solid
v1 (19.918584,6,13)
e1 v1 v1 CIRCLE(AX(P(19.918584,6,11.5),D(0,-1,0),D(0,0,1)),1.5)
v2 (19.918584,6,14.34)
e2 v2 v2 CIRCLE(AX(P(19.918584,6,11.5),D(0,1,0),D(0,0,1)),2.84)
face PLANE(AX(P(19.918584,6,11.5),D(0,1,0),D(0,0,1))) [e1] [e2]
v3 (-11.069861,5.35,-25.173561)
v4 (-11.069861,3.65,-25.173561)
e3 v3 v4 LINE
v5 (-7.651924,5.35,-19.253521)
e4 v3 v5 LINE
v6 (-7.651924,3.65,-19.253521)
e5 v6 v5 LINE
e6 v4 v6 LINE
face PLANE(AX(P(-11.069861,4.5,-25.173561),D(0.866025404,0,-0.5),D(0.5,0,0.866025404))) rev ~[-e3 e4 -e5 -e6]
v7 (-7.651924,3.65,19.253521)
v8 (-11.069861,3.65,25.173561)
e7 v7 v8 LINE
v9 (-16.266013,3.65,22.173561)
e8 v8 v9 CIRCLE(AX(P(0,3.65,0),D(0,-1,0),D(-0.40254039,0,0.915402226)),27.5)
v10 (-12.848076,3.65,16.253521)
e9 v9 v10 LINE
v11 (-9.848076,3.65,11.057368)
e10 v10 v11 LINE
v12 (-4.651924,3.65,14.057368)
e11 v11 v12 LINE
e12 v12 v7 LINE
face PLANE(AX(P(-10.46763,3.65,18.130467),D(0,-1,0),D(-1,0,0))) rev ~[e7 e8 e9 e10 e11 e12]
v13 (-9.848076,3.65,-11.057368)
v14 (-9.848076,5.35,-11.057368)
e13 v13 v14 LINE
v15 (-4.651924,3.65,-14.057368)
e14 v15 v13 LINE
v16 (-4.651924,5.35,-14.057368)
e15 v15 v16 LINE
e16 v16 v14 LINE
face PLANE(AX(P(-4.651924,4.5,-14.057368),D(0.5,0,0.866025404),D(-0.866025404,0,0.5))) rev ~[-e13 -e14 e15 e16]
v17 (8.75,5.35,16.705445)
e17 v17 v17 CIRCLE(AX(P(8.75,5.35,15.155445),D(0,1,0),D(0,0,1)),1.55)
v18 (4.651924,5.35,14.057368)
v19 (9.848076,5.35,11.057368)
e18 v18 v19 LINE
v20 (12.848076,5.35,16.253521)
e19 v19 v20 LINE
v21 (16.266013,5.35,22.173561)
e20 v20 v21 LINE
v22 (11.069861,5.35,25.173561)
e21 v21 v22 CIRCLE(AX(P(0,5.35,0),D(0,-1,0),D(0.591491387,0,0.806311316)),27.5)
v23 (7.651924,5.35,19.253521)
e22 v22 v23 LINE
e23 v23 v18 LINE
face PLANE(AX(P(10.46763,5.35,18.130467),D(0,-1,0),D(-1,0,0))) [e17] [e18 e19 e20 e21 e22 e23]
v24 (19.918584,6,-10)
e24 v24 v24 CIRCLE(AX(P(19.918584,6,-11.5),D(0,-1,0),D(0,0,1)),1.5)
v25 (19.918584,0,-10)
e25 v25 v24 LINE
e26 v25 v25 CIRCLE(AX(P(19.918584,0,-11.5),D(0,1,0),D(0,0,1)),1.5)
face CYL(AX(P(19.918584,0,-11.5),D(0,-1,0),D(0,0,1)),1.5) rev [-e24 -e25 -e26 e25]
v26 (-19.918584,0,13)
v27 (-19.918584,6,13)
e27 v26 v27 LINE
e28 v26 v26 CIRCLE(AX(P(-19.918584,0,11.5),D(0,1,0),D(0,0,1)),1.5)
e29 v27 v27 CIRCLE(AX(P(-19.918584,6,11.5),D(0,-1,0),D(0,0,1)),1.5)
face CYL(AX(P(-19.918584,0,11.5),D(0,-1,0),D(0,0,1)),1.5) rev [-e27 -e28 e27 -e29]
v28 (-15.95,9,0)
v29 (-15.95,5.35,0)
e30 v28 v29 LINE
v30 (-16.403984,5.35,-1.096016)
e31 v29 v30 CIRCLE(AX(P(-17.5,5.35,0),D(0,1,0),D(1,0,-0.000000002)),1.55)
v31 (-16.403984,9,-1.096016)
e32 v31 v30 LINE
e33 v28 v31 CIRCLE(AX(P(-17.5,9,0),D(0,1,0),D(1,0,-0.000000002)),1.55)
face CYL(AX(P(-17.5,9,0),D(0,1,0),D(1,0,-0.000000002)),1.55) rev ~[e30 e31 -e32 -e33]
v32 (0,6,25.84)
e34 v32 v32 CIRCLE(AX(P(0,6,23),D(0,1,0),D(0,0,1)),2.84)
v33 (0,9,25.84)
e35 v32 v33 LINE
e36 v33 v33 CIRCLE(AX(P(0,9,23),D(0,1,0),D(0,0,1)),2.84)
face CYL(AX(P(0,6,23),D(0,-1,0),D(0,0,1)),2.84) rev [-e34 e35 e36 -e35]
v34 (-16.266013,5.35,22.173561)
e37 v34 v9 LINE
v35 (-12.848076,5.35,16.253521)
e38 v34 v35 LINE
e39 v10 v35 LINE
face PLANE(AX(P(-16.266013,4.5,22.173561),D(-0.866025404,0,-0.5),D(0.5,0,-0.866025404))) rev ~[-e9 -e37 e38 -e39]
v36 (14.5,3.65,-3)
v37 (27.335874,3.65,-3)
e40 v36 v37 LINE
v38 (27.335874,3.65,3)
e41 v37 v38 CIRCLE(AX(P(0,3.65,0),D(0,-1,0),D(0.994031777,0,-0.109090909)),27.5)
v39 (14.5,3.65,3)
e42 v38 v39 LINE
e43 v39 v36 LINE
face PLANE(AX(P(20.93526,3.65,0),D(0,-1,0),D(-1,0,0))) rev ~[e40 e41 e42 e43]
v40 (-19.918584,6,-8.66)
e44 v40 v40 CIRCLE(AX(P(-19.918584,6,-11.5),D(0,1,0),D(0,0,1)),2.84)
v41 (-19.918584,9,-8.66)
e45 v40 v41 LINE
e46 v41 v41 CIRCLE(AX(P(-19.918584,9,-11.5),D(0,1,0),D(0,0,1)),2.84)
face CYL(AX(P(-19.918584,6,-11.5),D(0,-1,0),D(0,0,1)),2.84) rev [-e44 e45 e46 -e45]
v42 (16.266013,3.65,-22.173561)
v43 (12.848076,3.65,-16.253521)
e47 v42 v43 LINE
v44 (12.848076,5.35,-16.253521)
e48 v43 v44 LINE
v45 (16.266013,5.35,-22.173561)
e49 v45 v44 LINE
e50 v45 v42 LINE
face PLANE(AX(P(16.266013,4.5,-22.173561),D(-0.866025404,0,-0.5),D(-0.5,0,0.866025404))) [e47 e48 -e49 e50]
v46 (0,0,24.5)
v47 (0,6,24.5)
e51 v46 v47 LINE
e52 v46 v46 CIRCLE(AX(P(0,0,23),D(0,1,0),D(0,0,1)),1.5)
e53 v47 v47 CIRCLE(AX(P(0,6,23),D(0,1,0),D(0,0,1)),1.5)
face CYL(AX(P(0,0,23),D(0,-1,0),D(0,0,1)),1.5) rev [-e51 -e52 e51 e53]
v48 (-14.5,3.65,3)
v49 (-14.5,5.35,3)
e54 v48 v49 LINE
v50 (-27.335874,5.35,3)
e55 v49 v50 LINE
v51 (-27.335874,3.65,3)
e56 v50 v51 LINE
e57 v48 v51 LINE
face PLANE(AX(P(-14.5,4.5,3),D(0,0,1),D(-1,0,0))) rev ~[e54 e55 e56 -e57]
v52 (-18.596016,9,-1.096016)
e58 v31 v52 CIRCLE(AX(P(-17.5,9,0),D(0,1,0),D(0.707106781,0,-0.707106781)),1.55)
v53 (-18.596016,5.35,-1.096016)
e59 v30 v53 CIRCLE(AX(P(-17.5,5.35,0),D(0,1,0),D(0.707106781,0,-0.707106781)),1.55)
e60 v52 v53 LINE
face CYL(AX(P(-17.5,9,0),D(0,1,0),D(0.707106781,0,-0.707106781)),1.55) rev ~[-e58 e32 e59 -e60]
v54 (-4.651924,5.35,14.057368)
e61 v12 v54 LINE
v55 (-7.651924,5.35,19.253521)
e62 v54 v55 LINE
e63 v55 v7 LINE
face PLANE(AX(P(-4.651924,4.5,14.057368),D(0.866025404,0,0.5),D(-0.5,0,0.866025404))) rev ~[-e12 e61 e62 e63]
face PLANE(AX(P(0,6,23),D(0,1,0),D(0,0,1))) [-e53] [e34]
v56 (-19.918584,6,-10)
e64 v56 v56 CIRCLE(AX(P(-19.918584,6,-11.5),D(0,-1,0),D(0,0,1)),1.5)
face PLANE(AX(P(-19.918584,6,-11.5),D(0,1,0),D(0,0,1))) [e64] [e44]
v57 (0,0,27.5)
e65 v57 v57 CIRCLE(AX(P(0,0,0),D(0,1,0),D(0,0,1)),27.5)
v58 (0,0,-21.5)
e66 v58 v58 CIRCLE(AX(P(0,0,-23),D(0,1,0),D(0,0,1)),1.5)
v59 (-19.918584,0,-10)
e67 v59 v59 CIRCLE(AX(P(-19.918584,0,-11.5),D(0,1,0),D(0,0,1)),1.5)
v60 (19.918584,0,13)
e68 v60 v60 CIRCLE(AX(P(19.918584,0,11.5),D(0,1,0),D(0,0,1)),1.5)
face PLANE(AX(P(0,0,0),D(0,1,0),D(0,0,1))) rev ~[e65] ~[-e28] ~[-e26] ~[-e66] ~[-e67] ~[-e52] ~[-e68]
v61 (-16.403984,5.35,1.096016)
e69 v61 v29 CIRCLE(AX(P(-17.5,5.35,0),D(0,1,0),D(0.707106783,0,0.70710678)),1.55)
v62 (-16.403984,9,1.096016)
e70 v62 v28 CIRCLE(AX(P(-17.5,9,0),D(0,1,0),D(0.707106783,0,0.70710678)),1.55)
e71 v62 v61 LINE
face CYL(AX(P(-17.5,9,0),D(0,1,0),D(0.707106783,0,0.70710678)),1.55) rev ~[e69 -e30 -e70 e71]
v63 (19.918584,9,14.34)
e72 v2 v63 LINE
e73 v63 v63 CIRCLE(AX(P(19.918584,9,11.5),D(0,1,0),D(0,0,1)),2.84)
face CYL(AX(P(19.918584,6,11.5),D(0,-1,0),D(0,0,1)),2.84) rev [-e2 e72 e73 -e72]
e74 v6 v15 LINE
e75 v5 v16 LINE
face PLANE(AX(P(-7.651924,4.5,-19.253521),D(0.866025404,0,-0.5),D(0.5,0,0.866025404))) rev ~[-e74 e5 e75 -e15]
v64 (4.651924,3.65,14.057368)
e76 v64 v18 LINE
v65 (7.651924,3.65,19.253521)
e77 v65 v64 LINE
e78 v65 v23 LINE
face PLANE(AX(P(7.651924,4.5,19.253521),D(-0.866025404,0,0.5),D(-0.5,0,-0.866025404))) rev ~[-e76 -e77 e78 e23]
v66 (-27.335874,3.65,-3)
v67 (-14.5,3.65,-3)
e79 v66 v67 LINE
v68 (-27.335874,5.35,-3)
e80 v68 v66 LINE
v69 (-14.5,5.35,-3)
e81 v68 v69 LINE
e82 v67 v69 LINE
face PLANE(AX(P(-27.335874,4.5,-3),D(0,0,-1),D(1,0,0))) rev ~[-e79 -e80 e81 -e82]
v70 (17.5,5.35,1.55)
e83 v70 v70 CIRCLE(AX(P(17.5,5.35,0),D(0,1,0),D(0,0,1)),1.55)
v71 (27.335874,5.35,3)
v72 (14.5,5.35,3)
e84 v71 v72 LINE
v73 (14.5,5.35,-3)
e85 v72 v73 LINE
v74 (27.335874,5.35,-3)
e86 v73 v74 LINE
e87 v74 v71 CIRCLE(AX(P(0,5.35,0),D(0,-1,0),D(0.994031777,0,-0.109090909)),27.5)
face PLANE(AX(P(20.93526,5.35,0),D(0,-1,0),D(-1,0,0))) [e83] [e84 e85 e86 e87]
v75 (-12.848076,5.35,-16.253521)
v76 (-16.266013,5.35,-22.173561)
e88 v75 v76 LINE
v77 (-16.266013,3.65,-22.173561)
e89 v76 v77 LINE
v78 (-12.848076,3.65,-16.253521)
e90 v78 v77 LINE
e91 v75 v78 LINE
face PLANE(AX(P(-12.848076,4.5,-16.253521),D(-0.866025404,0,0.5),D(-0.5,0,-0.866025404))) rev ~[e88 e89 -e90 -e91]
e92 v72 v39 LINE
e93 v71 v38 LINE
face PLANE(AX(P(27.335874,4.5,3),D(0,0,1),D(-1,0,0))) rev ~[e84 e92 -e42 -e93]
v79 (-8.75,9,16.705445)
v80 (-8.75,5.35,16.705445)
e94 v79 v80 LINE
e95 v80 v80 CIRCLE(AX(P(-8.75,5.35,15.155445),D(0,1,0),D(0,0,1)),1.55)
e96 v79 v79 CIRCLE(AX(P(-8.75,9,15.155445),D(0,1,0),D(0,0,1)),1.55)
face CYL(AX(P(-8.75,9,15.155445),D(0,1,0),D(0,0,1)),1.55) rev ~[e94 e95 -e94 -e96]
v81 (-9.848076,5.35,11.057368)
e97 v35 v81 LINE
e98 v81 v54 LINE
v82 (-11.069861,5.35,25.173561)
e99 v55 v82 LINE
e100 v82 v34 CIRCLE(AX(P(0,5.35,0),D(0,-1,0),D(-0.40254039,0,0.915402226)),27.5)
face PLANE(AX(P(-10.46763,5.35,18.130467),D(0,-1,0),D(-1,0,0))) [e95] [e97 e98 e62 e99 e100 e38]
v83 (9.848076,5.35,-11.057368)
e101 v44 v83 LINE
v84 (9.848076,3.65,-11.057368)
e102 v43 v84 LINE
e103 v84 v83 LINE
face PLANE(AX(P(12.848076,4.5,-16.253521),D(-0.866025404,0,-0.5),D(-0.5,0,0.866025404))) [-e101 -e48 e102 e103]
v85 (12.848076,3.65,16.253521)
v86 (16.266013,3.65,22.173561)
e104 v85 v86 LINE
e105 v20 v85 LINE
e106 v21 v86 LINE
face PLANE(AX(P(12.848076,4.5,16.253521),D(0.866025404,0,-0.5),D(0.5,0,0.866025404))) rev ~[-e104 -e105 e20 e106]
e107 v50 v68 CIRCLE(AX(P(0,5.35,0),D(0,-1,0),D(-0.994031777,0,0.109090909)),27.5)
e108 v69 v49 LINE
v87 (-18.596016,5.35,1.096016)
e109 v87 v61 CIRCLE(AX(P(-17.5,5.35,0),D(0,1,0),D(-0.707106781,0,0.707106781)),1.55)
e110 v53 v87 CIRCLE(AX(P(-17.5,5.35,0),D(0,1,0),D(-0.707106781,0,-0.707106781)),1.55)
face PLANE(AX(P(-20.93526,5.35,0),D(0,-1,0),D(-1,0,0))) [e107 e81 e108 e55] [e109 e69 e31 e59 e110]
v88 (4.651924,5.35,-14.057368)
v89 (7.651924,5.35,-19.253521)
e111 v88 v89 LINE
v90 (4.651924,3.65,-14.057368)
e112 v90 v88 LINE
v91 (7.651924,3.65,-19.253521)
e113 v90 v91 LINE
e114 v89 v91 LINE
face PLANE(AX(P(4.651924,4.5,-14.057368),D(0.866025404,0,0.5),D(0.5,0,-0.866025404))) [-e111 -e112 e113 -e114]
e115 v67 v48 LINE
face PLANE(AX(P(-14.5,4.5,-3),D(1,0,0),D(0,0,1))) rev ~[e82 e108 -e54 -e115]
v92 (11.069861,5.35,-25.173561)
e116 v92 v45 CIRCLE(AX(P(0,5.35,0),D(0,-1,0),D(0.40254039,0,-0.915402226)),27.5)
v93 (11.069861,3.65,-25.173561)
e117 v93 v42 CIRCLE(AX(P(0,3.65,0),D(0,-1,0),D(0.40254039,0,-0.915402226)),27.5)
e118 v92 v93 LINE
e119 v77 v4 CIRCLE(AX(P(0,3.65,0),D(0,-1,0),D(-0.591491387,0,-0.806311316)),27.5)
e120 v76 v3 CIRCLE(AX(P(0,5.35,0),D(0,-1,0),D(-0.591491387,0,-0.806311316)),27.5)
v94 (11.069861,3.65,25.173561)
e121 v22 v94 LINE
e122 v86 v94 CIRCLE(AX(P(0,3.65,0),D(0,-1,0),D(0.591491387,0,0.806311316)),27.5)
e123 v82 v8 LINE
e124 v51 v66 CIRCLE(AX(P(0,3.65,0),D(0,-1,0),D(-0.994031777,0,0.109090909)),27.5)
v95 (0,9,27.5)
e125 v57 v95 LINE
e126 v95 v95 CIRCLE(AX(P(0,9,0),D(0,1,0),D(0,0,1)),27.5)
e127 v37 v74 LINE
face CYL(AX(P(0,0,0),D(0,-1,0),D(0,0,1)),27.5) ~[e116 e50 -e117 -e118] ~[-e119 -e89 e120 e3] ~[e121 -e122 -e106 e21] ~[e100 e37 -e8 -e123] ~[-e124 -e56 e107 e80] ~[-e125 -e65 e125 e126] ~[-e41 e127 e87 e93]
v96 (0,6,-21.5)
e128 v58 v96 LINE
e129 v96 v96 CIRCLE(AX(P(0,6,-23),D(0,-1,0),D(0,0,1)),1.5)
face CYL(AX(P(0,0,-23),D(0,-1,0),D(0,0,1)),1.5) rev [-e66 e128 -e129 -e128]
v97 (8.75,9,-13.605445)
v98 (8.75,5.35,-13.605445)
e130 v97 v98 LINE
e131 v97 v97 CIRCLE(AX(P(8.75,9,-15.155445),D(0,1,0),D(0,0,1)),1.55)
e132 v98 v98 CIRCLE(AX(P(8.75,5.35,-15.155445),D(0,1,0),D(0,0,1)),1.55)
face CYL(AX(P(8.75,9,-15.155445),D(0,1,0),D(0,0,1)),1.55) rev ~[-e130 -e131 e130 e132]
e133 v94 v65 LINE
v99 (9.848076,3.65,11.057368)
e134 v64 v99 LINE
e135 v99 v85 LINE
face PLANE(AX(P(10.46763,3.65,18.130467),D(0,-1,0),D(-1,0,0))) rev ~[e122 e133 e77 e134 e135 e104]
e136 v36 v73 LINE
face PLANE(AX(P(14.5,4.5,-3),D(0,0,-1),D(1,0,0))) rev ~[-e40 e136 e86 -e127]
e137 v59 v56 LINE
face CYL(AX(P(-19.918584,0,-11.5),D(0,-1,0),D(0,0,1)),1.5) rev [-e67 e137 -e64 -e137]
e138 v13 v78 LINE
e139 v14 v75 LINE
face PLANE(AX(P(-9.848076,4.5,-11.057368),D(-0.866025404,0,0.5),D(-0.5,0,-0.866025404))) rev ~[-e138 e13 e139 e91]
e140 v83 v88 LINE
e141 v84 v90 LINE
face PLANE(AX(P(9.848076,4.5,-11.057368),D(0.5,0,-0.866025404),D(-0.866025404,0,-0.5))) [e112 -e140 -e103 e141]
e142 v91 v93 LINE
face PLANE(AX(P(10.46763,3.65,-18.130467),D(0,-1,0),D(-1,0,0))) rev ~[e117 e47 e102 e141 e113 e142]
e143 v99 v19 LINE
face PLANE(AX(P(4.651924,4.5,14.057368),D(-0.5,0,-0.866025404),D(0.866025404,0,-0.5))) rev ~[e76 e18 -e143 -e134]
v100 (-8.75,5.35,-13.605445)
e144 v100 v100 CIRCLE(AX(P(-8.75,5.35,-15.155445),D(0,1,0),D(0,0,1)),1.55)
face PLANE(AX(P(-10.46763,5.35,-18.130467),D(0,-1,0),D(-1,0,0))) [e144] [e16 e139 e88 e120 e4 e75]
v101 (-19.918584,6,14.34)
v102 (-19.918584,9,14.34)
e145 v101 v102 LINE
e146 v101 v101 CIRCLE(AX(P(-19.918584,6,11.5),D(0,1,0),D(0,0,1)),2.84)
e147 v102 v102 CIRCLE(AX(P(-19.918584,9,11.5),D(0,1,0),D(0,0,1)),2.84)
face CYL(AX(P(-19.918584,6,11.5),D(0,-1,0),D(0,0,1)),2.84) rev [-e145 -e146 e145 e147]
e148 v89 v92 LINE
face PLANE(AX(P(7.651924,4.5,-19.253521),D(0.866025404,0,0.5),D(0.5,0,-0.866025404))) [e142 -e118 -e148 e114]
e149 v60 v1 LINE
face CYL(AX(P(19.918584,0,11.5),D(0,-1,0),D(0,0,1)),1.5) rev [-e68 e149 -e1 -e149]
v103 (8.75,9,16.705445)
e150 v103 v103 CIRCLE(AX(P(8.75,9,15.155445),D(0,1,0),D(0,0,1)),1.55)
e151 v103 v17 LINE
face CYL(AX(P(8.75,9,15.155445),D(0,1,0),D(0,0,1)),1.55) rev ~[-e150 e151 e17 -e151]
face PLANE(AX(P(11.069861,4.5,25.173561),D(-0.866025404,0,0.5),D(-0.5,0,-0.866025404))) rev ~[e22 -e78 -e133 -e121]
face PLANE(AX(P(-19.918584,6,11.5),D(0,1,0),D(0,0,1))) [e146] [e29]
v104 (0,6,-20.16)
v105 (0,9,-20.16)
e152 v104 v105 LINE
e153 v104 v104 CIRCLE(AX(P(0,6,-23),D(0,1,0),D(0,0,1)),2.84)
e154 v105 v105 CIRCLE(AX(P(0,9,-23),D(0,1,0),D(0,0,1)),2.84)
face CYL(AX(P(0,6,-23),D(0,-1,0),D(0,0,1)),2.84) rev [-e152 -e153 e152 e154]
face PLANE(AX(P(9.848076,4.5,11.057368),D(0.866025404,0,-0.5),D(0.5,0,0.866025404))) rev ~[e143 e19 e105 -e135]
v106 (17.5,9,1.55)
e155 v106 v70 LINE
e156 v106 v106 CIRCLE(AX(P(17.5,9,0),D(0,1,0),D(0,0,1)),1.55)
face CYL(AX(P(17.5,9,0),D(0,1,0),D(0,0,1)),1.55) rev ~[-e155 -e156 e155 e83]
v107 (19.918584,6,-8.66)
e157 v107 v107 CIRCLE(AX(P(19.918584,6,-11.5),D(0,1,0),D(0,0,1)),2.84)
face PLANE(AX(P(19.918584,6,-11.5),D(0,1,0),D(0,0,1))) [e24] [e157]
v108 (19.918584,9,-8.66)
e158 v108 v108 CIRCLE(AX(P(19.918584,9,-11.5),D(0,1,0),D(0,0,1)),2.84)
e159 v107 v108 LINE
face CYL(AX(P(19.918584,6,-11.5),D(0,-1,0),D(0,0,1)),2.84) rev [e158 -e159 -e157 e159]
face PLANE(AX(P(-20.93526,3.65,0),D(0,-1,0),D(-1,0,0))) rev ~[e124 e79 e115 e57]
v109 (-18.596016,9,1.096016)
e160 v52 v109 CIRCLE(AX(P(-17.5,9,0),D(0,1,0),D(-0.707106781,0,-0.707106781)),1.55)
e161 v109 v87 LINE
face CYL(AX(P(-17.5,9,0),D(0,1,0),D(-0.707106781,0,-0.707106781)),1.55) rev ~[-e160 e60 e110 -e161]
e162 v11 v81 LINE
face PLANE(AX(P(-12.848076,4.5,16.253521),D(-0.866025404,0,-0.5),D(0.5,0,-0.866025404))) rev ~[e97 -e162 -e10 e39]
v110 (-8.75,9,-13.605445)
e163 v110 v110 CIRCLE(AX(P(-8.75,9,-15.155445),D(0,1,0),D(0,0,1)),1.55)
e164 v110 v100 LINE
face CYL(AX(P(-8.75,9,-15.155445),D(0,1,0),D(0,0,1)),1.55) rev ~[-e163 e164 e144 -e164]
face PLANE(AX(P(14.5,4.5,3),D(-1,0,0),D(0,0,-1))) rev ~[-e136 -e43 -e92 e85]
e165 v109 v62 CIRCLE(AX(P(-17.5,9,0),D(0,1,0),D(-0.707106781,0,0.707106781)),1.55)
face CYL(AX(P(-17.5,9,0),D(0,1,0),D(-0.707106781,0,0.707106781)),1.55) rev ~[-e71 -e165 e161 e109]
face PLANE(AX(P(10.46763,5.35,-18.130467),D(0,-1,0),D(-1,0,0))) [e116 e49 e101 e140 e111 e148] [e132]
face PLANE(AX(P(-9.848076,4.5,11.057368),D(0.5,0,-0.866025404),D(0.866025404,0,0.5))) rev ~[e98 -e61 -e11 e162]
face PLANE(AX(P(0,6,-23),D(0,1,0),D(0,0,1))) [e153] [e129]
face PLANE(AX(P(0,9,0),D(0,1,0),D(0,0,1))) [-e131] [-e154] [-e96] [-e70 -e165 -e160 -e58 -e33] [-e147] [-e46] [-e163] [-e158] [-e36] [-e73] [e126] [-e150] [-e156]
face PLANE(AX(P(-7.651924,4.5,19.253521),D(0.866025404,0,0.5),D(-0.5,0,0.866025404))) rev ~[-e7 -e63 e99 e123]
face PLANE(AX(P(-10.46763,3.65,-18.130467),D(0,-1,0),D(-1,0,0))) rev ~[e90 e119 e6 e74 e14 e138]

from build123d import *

# Parameters (mm, degrees)
SKETCH1_R           = 27.5
SKETCH1_R_2         = 1.5
BOSS_EXTRUDE1_DEPTH = 9
CUT_EXTRUDE1_START  = -3
SKETCH2_R           = 2.84
SKETCH2_R_2         = 1.5
CUT_EXTRUDE1_DEPTH  = 3
CUT_EXTRUDE2_DEPTH  = 0.85
CUT_EXTRUDE3_REACH  = 41.919
SKETCH5_R           = 1.55


with BuildPart() as part:
    # Sketch1 → Boss-Extrude1 (new body)
    with BuildSketch(Plane(origin=(0, 0, 0), x_dir=(1, 0, 0), z_dir=(0, 1, 0))):
        with Locations(Location((0, 0, 0), (0, 0, 270))):
            Circle(SKETCH1_R)
        with Locations(Location((0, 23, 0), (0, 0, 270))):
            Circle(SKETCH1_R_2, mode=Mode.SUBTRACT)
        with Locations(Location((19.918584287, 11.5, 0), (0, 0, 270))):
            Circle(SKETCH1_R_2, mode=Mode.SUBTRACT)
        with Locations(Location((19.918584287, -11.5, 0), (0, 0, 270))):
            Circle(SKETCH1_R_2, mode=Mode.SUBTRACT)
        with Locations(Location((0, -23, 0), (0, 0, 270))):
            Circle(SKETCH1_R_2, mode=Mode.SUBTRACT)
        with Locations(Location((-19.918584287, -11.5, 0), (0, 0, 270))):
            Circle(SKETCH1_R_2, mode=Mode.SUBTRACT)
        with Locations(Location((-19.918584287, 11.5, 0), (0, 0, 270))):
            Circle(SKETCH1_R_2, mode=Mode.SUBTRACT)
    extrude(amount=BOSS_EXTRUDE1_DEPTH)

    # Sketch2 → Cut-Extrude1 (cut)
    # profile 1 of 6: a face of its own
    with BuildSketch(Plane(origin=(0, 9, 0), x_dir=(1, 0, 0), z_dir=(0, 1, 0)).offset(CUT_EXTRUDE1_START)):
        with Locations(Location((0, -23, 0), (0, 0, 270))):
            Circle(SKETCH2_R)
        with Locations(Location((0, -23, 0), (0, 0, 270))):
            Circle(SKETCH2_R_2, mode=Mode.SUBTRACT)
    # profile 2 of 6: a face of its own
    with BuildSketch(Plane(origin=(0, 9, 0), x_dir=(1, 0, 0), z_dir=(0, 1, 0)).offset(CUT_EXTRUDE1_START)):
        with Locations(Location((-19.918584287, -11.5, 0), (0, 0, 270))):
            Circle(SKETCH2_R)
    # profile 3 of 6: a face of its own
    with BuildSketch(Plane(origin=(0, 9, 0), x_dir=(1, 0, 0), z_dir=(0, 1, 0)).offset(CUT_EXTRUDE1_START)):
        with Locations(Location((-19.918584287, 11.5, 0), (0, 0, 270))):
            Circle(SKETCH2_R)
    # profile 4 of 6: a face of its own
    with BuildSketch(Plane(origin=(0, 9, 0), x_dir=(1, 0, 0), z_dir=(0, 1, 0)).offset(CUT_EXTRUDE1_START)):
        with Locations(Location((0, 23, 0), (0, 0, 270))):
            Circle(SKETCH2_R)
    # profile 5 of 6: a face of its own
    with BuildSketch(Plane(origin=(0, 9, 0), x_dir=(1, 0, 0), z_dir=(0, 1, 0)).offset(CUT_EXTRUDE1_START)):
        with Locations(Location((19.918584287, 11.5, 0), (0, 0, 270))):
            Circle(SKETCH2_R)
    # profile 6 of 6: a face of its own
    with BuildSketch(Plane(origin=(0, 9, 0), x_dir=(1, 0, 0), z_dir=(0, 1, 0)).offset(CUT_EXTRUDE1_START)):
        with Locations(Location((19.918584287, -11.5, 0), (0, 0, 270))):
            Circle(SKETCH2_R)
    extrude(amount=CUT_EXTRUDE1_DEPTH, mode=Mode.SUBTRACT)

    # Sketch4 → Cut-Extrude2 (cut, symmetric)
    with BuildSketch(Plane(origin=(0, 4.5, 0), x_dir=(1, 0, 0), z_dir=(0, 1, 0))):
        with BuildLine():
            Line((20.5, 3), (27.335873866, 3))
            ThreePointArc((27.335873866, 3), (27.5, 0), (27.335873866, -3))
            Line((27.335873866, -3), (20.5, -3))
            Line((20.5, -3), (14.5, -3))
            Line((14.5, -3), (14.5, 3))
            Line((14.5, 3), (20.5, 3))
        make_face()
        with BuildLine():
            Line((9.848076211, -11.057368355), (12.848076211, -16.253520778))
            Line((12.848076211, -16.253520778), (16.266013144, -22.173561202))
            ThreePointArc((16.266013144, -22.173561202), (13.75, -23.815698604), (11.069860721, -25.173561202))
            Line((11.069860721, -25.173561202), (7.651923789, -19.253520778))
            Line((7.651923789, -19.253520778), (4.651923789, -14.057368355))
            Line((4.651923789, -14.057368355), (9.848076211, -11.057368355))
        make_face()
        with BuildLine():
            Line((-4.651923789, -14.057368355), (-7.651923789, -19.253520778))
            Line((-7.651923789, -19.253520778), (-11.069860721, -25.173561202))
            ThreePointArc((-11.069860721, -25.173561202), (-13.75, -23.815698604), (-16.266013144, -22.173561202))
            Line((-16.266013144, -22.173561202), (-12.848076211, -16.253520778))
            Line((-12.848076211, -16.253520778), (-9.848076211, -11.057368355))
            Line((-9.848076211, -11.057368355), (-4.651923789, -14.057368355))
        make_face()
        with BuildLine():
            Line((-14.5, -3), (-20.5, -3))
            Line((-20.5, -3), (-27.335873866, -3))
            ThreePointArc((-27.335873866, -3), (-27.5, 0), (-27.335873866, 3))
            Line((-27.335873866, 3), (-20.5, 3))
            Line((-20.5, 3), (-14.5, 3))
            Line((-14.5, 3), (-14.5, -3))
        make_face()
        with BuildLine():
            Line((-9.848076211, 11.057368355), (-12.848076211, 16.253520778))
            Line((-12.848076211, 16.253520778), (-16.266013144, 22.173561202))
            ThreePointArc((-16.266013144, 22.173561202), (-13.75, 23.815698604), (-11.069860721, 25.173561202))
            Line((-11.069860721, 25.173561202), (-7.651923789, 19.253520778))
            Line((-7.651923789, 19.253520778), (-4.651923789, 14.057368355))
            Line((-4.651923789, 14.057368355), (-9.848076211, 11.057368355))
        make_face()
        with BuildLine():
            Line((4.651923789, 14.057368355), (7.651923789, 19.253520778))
            Line((7.651923789, 19.253520778), (11.069860721, 25.173561202))
            ThreePointArc((11.069860721, 25.173561202), (13.75, 23.815698604), (16.266013144, 22.173561202))
            Line((16.266013144, 22.173561202), (12.848076211, 16.253520778))
            Line((12.848076211, 16.253520778), (9.848076211, 11.057368355))
            Line((9.848076211, 11.057368355), (4.651923789, 14.057368355))
        make_face()
    extrude(amount=CUT_EXTRUDE2_DEPTH, both=True, mode=Mode.SUBTRACT)

    # Sketch5 → Cut-Extrude3 (cut, up to next)
    with BuildSketch(Plane(origin=(0, 9, 0), x_dir=(1, 0, 0), z_dir=(0, 1, 0)), mode=Mode.PRIVATE) as cut_extrude3_sk1:
        with BuildLine():
            ThreePointArc((-16.403984489, 1.096015511), (-17.5, 1.55), (-18.596015511, 1.096015511))
            Line((-18.596015511, 1.096015511), (-17.5, 0))
            Line((-17.5, 0), (-16.403984489, 1.096015511))
        make_face()
    cut_extrude3_tool1 = extrude(cut_extrude3_sk1.sketch, amount=-CUT_EXTRUDE3_REACH, mode=Mode.PRIVATE) & part.part
    # Sketch5 → Cut-Extrude3 (cut, up to next)
    with BuildSketch(Plane(origin=(0, 9, 0), x_dir=(1, 0, 0), z_dir=(0, 1, 0)), mode=Mode.PRIVATE) as cut_extrude3_sk2:
        with BuildLine():
            Line((-17.5, 0), (-18.596015511, 1.096015511))
            ThreePointArc((-18.596015511, 1.096015511), (-19.05, 0), (-18.596015511, -1.096015511))
            Line((-18.596015511, -1.096015511), (-17.5, 0))
        make_face()
    cut_extrude3_tool2 = extrude(cut_extrude3_sk2.sketch, amount=-CUT_EXTRUDE3_REACH, mode=Mode.PRIVATE) & part.part
    # Sketch5 → Cut-Extrude3 (cut, up to next)
    with BuildSketch(Plane(origin=(0, 9, 0), x_dir=(1, 0, 0), z_dir=(0, 1, 0)), mode=Mode.PRIVATE) as cut_extrude3_sk3:
        with BuildLine():
            Line((-16.403984489, 1.096015511), (-17.5, 0))
            Line((-17.5, 0), (-16.403984489, -1.096015511))
            ThreePointArc((-16.403984489, -1.096015511), (-16.067986725, -0.59315932), (-15.95, 0))
            ThreePointArc((-15.95, 0), (-16.067986725, 0.59315932), (-16.403984489, 1.096015511))
        make_face()
    cut_extrude3_tool3 = extrude(cut_extrude3_sk3.sketch, amount=-CUT_EXTRUDE3_REACH, mode=Mode.PRIVATE) & part.part
    # Sketch5 → Cut-Extrude3 (cut, up to next)
    with BuildSketch(Plane(origin=(0, 9, 0), x_dir=(1, 0, 0), z_dir=(0, 1, 0)), mode=Mode.PRIVATE) as cut_extrude3_sk4:
        with BuildLine():
            Line((-16.403984489, -1.096015511), (-17.5, 0))
            Line((-17.5, 0), (-18.596015511, -1.096015511))
            ThreePointArc((-18.596015511, -1.096015511), (-17.5, -1.55), (-16.403984489, -1.096015511))
        make_face()
    cut_extrude3_tool4 = extrude(cut_extrude3_sk4.sketch, amount=-CUT_EXTRUDE3_REACH, mode=Mode.PRIVATE) & part.part
    # Sketch5 → Cut-Extrude3 (cut, up to next)
    with BuildSketch(Plane(origin=(0, 9, 0), x_dir=(1, 0, 0), z_dir=(0, 1, 0)), mode=Mode.PRIVATE) as cut_extrude3_sk5:
        with BuildLine():
            ThreePointArc((-16.403984489, 1.096015511), (-17.5, 1.55), (-18.596015511, 1.096015511))
            Line((-18.596015511, 1.096015511), (-17.5, 0))
            Line((-17.5, 0), (-16.403984489, 1.096015511))
        make_face()
    cut_extrude3_tool5 = extrude(cut_extrude3_sk5.sketch, amount=-CUT_EXTRUDE3_REACH, mode=Mode.PRIVATE) & part.part
    # Sketch5 → Cut-Extrude3 (cut, up to next)
    with BuildSketch(Plane(origin=(0, 9, 0), x_dir=(1, 0, 0), z_dir=(0, 1, 0)), mode=Mode.PRIVATE) as cut_extrude3_sk6:
        with BuildLine():
            Line((-17.5, 0), (-18.596015511, 1.096015511))
            ThreePointArc((-18.596015511, 1.096015511), (-19.05, 0), (-18.596015511, -1.096015511))
            Line((-18.596015511, -1.096015511), (-17.5, 0))
        make_face()
    cut_extrude3_tool6 = extrude(cut_extrude3_sk6.sketch, amount=-CUT_EXTRUDE3_REACH, mode=Mode.PRIVATE) & part.part
    # Sketch5 → Cut-Extrude3 (cut, up to next)
    with BuildSketch(Plane(origin=(0, 9, 0), x_dir=(1, 0, 0), z_dir=(0, 1, 0)), mode=Mode.PRIVATE) as cut_extrude3_sk7:
        with BuildLine():
            Line((-16.403984489, 1.096015511), (-17.5, 0))
            Line((-17.5, 0), (-16.403984489, -1.096015511))
            ThreePointArc((-16.403984489, -1.096015511), (-16.067986725, -0.59315932), (-15.95, 0))
            ThreePointArc((-15.95, 0), (-16.067986725, 0.59315932), (-16.403984489, 1.096015511))
        make_face()
    cut_extrude3_tool7 = extrude(cut_extrude3_sk7.sketch, amount=-CUT_EXTRUDE3_REACH, mode=Mode.PRIVATE) & part.part
    # Sketch5 → Cut-Extrude3 (cut, up to next)
    with BuildSketch(Plane(origin=(0, 9, 0), x_dir=(1, 0, 0), z_dir=(0, 1, 0)), mode=Mode.PRIVATE) as cut_extrude3_sk8:
        with BuildLine():
            Line((-16.403984489, -1.096015511), (-17.5, 0))
            Line((-17.5, 0), (-18.596015511, -1.096015511))
            ThreePointArc((-18.596015511, -1.096015511), (-17.5, -1.55), (-16.403984489, -1.096015511))
        make_face()
    cut_extrude3_tool8 = extrude(cut_extrude3_sk8.sketch, amount=-CUT_EXTRUDE3_REACH, mode=Mode.PRIVATE) & part.part
    # Sketch5 → Cut-Extrude3 (cut, up to next)
    with BuildSketch(Plane(origin=(0, 9, 0), x_dir=(1, 0, 0), z_dir=(0, 1, 0)), mode=Mode.PRIVATE) as cut_extrude3_sk9:
        with BuildLine():
            ThreePointArc((-16.403984489, 1.096015511), (-17.5, 1.55), (-18.596015511, 1.096015511))
            Line((-18.596015511, 1.096015511), (-17.5, 0))
            Line((-17.5, 0), (-16.403984489, 1.096015511))
        make_face()
    cut_extrude3_tool9 = extrude(cut_extrude3_sk9.sketch, amount=-CUT_EXTRUDE3_REACH, mode=Mode.PRIVATE) & part.part
    # Sketch5 → Cut-Extrude3 (cut, up to next)
    with BuildSketch(Plane(origin=(0, 9, 0), x_dir=(1, 0, 0), z_dir=(0, 1, 0)), mode=Mode.PRIVATE) as cut_extrude3_sk10:
        with BuildLine():
            Line((-17.5, 0), (-18.596015511, 1.096015511))
            ThreePointArc((-18.596015511, 1.096015511), (-19.05, 0), (-18.596015511, -1.096015511))
            Line((-18.596015511, -1.096015511), (-17.5, 0))
        make_face()
    cut_extrude3_tool10 = extrude(cut_extrude3_sk10.sketch, amount=-CUT_EXTRUDE3_REACH, mode=Mode.PRIVATE) & part.part
    # Sketch5 → Cut-Extrude3 (cut, up to next)
    with BuildSketch(Plane(origin=(0, 9, 0), x_dir=(1, 0, 0), z_dir=(0, 1, 0)), mode=Mode.PRIVATE) as cut_extrude3_sk11:
        with BuildLine():
            Line((-16.403984489, 1.096015511), (-17.5, 0))
            Line((-17.5, 0), (-16.403984489, -1.096015511))
            ThreePointArc((-16.403984489, -1.096015511), (-16.067986725, -0.59315932), (-15.95, 0))
            ThreePointArc((-15.95, 0), (-16.067986725, 0.59315932), (-16.403984489, 1.096015511))
        make_face()
    cut_extrude3_tool11 = extrude(cut_extrude3_sk11.sketch, amount=-CUT_EXTRUDE3_REACH, mode=Mode.PRIVATE) & part.part
    # Sketch5 → Cut-Extrude3 (cut, up to next)
    with BuildSketch(Plane(origin=(0, 9, 0), x_dir=(1, 0, 0), z_dir=(0, 1, 0)), mode=Mode.PRIVATE) as cut_extrude3_sk12:
        with BuildLine():
            Line((-16.403984489, -1.096015511), (-17.5, 0))
            Line((-17.5, 0), (-18.596015511, -1.096015511))
            ThreePointArc((-18.596015511, -1.096015511), (-17.5, -1.55), (-16.403984489, -1.096015511))
        make_face()
    cut_extrude3_tool12 = extrude(cut_extrude3_sk12.sketch, amount=-CUT_EXTRUDE3_REACH, mode=Mode.PRIVATE) & part.part
    # Sketch5 → Cut-Extrude3 (cut, up to next)
    with BuildSketch(Plane(origin=(0, 9, 0), x_dir=(1, 0, 0), z_dir=(0, 1, 0)), mode=Mode.PRIVATE) as cut_extrude3_sk13:
        with BuildLine():
            ThreePointArc((-16.403984489, 1.096015511), (-17.5, 1.55), (-18.596015511, 1.096015511))
            Line((-18.596015511, 1.096015511), (-17.5, 0))
            Line((-17.5, 0), (-16.403984489, 1.096015511))
        make_face()
    cut_extrude3_tool13 = extrude(cut_extrude3_sk13.sketch, amount=-CUT_EXTRUDE3_REACH, mode=Mode.PRIVATE) & part.part
    # Sketch5 → Cut-Extrude3 (cut, up to next)
    with BuildSketch(Plane(origin=(0, 9, 0), x_dir=(1, 0, 0), z_dir=(0, 1, 0)), mode=Mode.PRIVATE) as cut_extrude3_sk14:
        with BuildLine():
            Line((-17.5, 0), (-18.596015511, 1.096015511))
            ThreePointArc((-18.596015511, 1.096015511), (-19.05, 0), (-18.596015511, -1.096015511))
            Line((-18.596015511, -1.096015511), (-17.5, 0))
        make_face()
    cut_extrude3_tool14 = extrude(cut_extrude3_sk14.sketch, amount=-CUT_EXTRUDE3_REACH, mode=Mode.PRIVATE) & part.part
    # Sketch5 → Cut-Extrude3 (cut, up to next)
    with BuildSketch(Plane(origin=(0, 9, 0), x_dir=(1, 0, 0), z_dir=(0, 1, 0)), mode=Mode.PRIVATE) as cut_extrude3_sk15:
        with BuildLine():
            Line((-16.403984489, 1.096015511), (-17.5, 0))
            Line((-17.5, 0), (-16.403984489, -1.096015511))
            ThreePointArc((-16.403984489, -1.096015511), (-16.067986725, -0.59315932), (-15.95, 0))
            ThreePointArc((-15.95, 0), (-16.067986725, 0.59315932), (-16.403984489, 1.096015511))
        make_face()
    cut_extrude3_tool15 = extrude(cut_extrude3_sk15.sketch, amount=-CUT_EXTRUDE3_REACH, mode=Mode.PRIVATE) & part.part
    # Sketch5 → Cut-Extrude3 (cut, up to next)
    with BuildSketch(Plane(origin=(0, 9, 0), x_dir=(1, 0, 0), z_dir=(0, 1, 0)), mode=Mode.PRIVATE) as cut_extrude3_sk16:
        with BuildLine():
            Line((-16.403984489, -1.096015511), (-17.5, 0))
            Line((-17.5, 0), (-18.596015511, -1.096015511))
            ThreePointArc((-18.596015511, -1.096015511), (-17.5, -1.55), (-16.403984489, -1.096015511))
        make_face()
    cut_extrude3_tool16 = extrude(cut_extrude3_sk16.sketch, amount=-CUT_EXTRUDE3_REACH, mode=Mode.PRIVATE) & part.part
    # Sketch5 → Cut-Extrude3 (cut, up to next)
    with BuildSketch(Plane(origin=(0, 9, 0), x_dir=(1, 0, 0), z_dir=(0, 1, 0)), mode=Mode.PRIVATE) as cut_extrude3_sk17:
        with Locations(Location((-8.75, 15.155444566, 0), (0, 0, 270))):
            Circle(SKETCH5_R)
    cut_extrude3_tool17 = extrude(cut_extrude3_sk17.sketch, amount=-CUT_EXTRUDE3_REACH, mode=Mode.PRIVATE) & part.part
    # Sketch5 → Cut-Extrude3 (cut, up to next)
    with BuildSketch(Plane(origin=(0, 9, 0), x_dir=(1, 0, 0), z_dir=(0, 1, 0)), mode=Mode.PRIVATE) as cut_extrude3_sk18:
        with Locations(Location((8.75, 15.155444566, 0), (0, 0, 270))):
            Circle(SKETCH5_R)
    cut_extrude3_tool18 = extrude(cut_extrude3_sk18.sketch, amount=-CUT_EXTRUDE3_REACH, mode=Mode.PRIVATE) & part.part
    # Sketch5 → Cut-Extrude3 (cut, up to next)
    with BuildSketch(Plane(origin=(0, 9, 0), x_dir=(1, 0, 0), z_dir=(0, 1, 0)), mode=Mode.PRIVATE) as cut_extrude3_sk19:
        with Locations(Location((17.5, 0, 0), (0, 0, 270))):
            Circle(SKETCH5_R)
    cut_extrude3_tool19 = extrude(cut_extrude3_sk19.sketch, amount=-CUT_EXTRUDE3_REACH, mode=Mode.PRIVATE) & part.part
    # Sketch5 → Cut-Extrude3 (cut, up to next)
    with BuildSketch(Plane(origin=(0, 9, 0), x_dir=(1, 0, 0), z_dir=(0, 1, 0)), mode=Mode.PRIVATE) as cut_extrude3_sk20:
        with Locations(Location((8.75, -15.155444566, 0), (0, 0, 270))):
            Circle(SKETCH5_R)
    cut_extrude3_tool20 = extrude(cut_extrude3_sk20.sketch, amount=-CUT_EXTRUDE3_REACH, mode=Mode.PRIVATE) & part.part
    # Sketch5 → Cut-Extrude3 (cut, up to next)
    with BuildSketch(Plane(origin=(0, 9, 0), x_dir=(1, 0, 0), z_dir=(0, 1, 0)), mode=Mode.PRIVATE) as cut_extrude3_sk21:
        with Locations(Location((-8.75, -15.155444566, 0), (0, 0, 270))):
            Circle(SKETCH5_R)
    cut_extrude3_tool21 = extrude(cut_extrude3_sk21.sketch, amount=-CUT_EXTRUDE3_REACH, mode=Mode.PRIVATE) & part.part
    add(cut_extrude3_tool1.solids().sort_by_distance((-17.5, 9, -0.930327))[0], mode=Mode.SUBTRACT)
    add(cut_extrude3_tool2.solids().sort_by_distance((-18.430327, 9, 0))[0], mode=Mode.SUBTRACT)
    add(cut_extrude3_tool3.solids().sort_by_distance((-16.569673, 9, 0))[0], mode=Mode.SUBTRACT)
    add(cut_extrude3_tool4.solids().sort_by_distance((-17.5, 9, 0.930327))[0], mode=Mode.SUBTRACT)
    add(cut_extrude3_tool5.solids().sort_by_distance((-17.5, 9, -0.930327))[0], mode=Mode.SUBTRACT)
    add(cut_extrude3_tool6.solids().sort_by_distance((-18.430327, 9, 0))[0], mode=Mode.SUBTRACT)
    add(cut_extrude3_tool7.solids().sort_by_distance((-16.569673, 9, 0))[0], mode=Mode.SUBTRACT)
    add(cut_extrude3_tool8.solids().sort_by_distance((-17.5, 9, 0.930327))[0], mode=Mode.SUBTRACT)
    add(cut_extrude3_tool9.solids().sort_by_distance((-17.5, 9, -0.930327))[0], mode=Mode.SUBTRACT)
    add(cut_extrude3_tool10.solids().sort_by_distance((-18.430327, 9, 0))[0], mode=Mode.SUBTRACT)
    add(cut_extrude3_tool11.solids().sort_by_distance((-16.569673, 9, 0))[0], mode=Mode.SUBTRACT)
    add(cut_extrude3_tool12.solids().sort_by_distance((-17.5, 9, 0.930327))[0], mode=Mode.SUBTRACT)
    add(cut_extrude3_tool13.solids().sort_by_distance((-17.5, 9, -0.930327))[0], mode=Mode.SUBTRACT)
    add(cut_extrude3_tool14.solids().sort_by_distance((-18.430327, 9, 0))[0], mode=Mode.SUBTRACT)
    add(cut_extrude3_tool15.solids().sort_by_distance((-16.569673, 9, 0))[0], mode=Mode.SUBTRACT)
    add(cut_extrude3_tool16.solids().sort_by_distance((-17.5, 9, 0.930327))[0], mode=Mode.SUBTRACT)
    add(cut_extrude3_tool17.solids().sort_by_distance((-8.75, 9, -15.155445))[0], mode=Mode.SUBTRACT)
    add(cut_extrude3_tool18.solids().sort_by_distance((8.75, 9, -15.155445))[0], mode=Mode.SUBTRACT)
    add(cut_extrude3_tool19.solids().sort_by_distance((17.5, 9, 0))[0], mode=Mode.SUBTRACT)
    add(cut_extrude3_tool20.solids().sort_by_distance((8.75, 9, 15.155445))[0], mode=Mode.SUBTRACT)
    add(cut_extrude3_tool21.solids().sort_by_distance((-8.75, 9, 15.155445))[0], mode=Mode.SUBTRACT)


solid = part.part
